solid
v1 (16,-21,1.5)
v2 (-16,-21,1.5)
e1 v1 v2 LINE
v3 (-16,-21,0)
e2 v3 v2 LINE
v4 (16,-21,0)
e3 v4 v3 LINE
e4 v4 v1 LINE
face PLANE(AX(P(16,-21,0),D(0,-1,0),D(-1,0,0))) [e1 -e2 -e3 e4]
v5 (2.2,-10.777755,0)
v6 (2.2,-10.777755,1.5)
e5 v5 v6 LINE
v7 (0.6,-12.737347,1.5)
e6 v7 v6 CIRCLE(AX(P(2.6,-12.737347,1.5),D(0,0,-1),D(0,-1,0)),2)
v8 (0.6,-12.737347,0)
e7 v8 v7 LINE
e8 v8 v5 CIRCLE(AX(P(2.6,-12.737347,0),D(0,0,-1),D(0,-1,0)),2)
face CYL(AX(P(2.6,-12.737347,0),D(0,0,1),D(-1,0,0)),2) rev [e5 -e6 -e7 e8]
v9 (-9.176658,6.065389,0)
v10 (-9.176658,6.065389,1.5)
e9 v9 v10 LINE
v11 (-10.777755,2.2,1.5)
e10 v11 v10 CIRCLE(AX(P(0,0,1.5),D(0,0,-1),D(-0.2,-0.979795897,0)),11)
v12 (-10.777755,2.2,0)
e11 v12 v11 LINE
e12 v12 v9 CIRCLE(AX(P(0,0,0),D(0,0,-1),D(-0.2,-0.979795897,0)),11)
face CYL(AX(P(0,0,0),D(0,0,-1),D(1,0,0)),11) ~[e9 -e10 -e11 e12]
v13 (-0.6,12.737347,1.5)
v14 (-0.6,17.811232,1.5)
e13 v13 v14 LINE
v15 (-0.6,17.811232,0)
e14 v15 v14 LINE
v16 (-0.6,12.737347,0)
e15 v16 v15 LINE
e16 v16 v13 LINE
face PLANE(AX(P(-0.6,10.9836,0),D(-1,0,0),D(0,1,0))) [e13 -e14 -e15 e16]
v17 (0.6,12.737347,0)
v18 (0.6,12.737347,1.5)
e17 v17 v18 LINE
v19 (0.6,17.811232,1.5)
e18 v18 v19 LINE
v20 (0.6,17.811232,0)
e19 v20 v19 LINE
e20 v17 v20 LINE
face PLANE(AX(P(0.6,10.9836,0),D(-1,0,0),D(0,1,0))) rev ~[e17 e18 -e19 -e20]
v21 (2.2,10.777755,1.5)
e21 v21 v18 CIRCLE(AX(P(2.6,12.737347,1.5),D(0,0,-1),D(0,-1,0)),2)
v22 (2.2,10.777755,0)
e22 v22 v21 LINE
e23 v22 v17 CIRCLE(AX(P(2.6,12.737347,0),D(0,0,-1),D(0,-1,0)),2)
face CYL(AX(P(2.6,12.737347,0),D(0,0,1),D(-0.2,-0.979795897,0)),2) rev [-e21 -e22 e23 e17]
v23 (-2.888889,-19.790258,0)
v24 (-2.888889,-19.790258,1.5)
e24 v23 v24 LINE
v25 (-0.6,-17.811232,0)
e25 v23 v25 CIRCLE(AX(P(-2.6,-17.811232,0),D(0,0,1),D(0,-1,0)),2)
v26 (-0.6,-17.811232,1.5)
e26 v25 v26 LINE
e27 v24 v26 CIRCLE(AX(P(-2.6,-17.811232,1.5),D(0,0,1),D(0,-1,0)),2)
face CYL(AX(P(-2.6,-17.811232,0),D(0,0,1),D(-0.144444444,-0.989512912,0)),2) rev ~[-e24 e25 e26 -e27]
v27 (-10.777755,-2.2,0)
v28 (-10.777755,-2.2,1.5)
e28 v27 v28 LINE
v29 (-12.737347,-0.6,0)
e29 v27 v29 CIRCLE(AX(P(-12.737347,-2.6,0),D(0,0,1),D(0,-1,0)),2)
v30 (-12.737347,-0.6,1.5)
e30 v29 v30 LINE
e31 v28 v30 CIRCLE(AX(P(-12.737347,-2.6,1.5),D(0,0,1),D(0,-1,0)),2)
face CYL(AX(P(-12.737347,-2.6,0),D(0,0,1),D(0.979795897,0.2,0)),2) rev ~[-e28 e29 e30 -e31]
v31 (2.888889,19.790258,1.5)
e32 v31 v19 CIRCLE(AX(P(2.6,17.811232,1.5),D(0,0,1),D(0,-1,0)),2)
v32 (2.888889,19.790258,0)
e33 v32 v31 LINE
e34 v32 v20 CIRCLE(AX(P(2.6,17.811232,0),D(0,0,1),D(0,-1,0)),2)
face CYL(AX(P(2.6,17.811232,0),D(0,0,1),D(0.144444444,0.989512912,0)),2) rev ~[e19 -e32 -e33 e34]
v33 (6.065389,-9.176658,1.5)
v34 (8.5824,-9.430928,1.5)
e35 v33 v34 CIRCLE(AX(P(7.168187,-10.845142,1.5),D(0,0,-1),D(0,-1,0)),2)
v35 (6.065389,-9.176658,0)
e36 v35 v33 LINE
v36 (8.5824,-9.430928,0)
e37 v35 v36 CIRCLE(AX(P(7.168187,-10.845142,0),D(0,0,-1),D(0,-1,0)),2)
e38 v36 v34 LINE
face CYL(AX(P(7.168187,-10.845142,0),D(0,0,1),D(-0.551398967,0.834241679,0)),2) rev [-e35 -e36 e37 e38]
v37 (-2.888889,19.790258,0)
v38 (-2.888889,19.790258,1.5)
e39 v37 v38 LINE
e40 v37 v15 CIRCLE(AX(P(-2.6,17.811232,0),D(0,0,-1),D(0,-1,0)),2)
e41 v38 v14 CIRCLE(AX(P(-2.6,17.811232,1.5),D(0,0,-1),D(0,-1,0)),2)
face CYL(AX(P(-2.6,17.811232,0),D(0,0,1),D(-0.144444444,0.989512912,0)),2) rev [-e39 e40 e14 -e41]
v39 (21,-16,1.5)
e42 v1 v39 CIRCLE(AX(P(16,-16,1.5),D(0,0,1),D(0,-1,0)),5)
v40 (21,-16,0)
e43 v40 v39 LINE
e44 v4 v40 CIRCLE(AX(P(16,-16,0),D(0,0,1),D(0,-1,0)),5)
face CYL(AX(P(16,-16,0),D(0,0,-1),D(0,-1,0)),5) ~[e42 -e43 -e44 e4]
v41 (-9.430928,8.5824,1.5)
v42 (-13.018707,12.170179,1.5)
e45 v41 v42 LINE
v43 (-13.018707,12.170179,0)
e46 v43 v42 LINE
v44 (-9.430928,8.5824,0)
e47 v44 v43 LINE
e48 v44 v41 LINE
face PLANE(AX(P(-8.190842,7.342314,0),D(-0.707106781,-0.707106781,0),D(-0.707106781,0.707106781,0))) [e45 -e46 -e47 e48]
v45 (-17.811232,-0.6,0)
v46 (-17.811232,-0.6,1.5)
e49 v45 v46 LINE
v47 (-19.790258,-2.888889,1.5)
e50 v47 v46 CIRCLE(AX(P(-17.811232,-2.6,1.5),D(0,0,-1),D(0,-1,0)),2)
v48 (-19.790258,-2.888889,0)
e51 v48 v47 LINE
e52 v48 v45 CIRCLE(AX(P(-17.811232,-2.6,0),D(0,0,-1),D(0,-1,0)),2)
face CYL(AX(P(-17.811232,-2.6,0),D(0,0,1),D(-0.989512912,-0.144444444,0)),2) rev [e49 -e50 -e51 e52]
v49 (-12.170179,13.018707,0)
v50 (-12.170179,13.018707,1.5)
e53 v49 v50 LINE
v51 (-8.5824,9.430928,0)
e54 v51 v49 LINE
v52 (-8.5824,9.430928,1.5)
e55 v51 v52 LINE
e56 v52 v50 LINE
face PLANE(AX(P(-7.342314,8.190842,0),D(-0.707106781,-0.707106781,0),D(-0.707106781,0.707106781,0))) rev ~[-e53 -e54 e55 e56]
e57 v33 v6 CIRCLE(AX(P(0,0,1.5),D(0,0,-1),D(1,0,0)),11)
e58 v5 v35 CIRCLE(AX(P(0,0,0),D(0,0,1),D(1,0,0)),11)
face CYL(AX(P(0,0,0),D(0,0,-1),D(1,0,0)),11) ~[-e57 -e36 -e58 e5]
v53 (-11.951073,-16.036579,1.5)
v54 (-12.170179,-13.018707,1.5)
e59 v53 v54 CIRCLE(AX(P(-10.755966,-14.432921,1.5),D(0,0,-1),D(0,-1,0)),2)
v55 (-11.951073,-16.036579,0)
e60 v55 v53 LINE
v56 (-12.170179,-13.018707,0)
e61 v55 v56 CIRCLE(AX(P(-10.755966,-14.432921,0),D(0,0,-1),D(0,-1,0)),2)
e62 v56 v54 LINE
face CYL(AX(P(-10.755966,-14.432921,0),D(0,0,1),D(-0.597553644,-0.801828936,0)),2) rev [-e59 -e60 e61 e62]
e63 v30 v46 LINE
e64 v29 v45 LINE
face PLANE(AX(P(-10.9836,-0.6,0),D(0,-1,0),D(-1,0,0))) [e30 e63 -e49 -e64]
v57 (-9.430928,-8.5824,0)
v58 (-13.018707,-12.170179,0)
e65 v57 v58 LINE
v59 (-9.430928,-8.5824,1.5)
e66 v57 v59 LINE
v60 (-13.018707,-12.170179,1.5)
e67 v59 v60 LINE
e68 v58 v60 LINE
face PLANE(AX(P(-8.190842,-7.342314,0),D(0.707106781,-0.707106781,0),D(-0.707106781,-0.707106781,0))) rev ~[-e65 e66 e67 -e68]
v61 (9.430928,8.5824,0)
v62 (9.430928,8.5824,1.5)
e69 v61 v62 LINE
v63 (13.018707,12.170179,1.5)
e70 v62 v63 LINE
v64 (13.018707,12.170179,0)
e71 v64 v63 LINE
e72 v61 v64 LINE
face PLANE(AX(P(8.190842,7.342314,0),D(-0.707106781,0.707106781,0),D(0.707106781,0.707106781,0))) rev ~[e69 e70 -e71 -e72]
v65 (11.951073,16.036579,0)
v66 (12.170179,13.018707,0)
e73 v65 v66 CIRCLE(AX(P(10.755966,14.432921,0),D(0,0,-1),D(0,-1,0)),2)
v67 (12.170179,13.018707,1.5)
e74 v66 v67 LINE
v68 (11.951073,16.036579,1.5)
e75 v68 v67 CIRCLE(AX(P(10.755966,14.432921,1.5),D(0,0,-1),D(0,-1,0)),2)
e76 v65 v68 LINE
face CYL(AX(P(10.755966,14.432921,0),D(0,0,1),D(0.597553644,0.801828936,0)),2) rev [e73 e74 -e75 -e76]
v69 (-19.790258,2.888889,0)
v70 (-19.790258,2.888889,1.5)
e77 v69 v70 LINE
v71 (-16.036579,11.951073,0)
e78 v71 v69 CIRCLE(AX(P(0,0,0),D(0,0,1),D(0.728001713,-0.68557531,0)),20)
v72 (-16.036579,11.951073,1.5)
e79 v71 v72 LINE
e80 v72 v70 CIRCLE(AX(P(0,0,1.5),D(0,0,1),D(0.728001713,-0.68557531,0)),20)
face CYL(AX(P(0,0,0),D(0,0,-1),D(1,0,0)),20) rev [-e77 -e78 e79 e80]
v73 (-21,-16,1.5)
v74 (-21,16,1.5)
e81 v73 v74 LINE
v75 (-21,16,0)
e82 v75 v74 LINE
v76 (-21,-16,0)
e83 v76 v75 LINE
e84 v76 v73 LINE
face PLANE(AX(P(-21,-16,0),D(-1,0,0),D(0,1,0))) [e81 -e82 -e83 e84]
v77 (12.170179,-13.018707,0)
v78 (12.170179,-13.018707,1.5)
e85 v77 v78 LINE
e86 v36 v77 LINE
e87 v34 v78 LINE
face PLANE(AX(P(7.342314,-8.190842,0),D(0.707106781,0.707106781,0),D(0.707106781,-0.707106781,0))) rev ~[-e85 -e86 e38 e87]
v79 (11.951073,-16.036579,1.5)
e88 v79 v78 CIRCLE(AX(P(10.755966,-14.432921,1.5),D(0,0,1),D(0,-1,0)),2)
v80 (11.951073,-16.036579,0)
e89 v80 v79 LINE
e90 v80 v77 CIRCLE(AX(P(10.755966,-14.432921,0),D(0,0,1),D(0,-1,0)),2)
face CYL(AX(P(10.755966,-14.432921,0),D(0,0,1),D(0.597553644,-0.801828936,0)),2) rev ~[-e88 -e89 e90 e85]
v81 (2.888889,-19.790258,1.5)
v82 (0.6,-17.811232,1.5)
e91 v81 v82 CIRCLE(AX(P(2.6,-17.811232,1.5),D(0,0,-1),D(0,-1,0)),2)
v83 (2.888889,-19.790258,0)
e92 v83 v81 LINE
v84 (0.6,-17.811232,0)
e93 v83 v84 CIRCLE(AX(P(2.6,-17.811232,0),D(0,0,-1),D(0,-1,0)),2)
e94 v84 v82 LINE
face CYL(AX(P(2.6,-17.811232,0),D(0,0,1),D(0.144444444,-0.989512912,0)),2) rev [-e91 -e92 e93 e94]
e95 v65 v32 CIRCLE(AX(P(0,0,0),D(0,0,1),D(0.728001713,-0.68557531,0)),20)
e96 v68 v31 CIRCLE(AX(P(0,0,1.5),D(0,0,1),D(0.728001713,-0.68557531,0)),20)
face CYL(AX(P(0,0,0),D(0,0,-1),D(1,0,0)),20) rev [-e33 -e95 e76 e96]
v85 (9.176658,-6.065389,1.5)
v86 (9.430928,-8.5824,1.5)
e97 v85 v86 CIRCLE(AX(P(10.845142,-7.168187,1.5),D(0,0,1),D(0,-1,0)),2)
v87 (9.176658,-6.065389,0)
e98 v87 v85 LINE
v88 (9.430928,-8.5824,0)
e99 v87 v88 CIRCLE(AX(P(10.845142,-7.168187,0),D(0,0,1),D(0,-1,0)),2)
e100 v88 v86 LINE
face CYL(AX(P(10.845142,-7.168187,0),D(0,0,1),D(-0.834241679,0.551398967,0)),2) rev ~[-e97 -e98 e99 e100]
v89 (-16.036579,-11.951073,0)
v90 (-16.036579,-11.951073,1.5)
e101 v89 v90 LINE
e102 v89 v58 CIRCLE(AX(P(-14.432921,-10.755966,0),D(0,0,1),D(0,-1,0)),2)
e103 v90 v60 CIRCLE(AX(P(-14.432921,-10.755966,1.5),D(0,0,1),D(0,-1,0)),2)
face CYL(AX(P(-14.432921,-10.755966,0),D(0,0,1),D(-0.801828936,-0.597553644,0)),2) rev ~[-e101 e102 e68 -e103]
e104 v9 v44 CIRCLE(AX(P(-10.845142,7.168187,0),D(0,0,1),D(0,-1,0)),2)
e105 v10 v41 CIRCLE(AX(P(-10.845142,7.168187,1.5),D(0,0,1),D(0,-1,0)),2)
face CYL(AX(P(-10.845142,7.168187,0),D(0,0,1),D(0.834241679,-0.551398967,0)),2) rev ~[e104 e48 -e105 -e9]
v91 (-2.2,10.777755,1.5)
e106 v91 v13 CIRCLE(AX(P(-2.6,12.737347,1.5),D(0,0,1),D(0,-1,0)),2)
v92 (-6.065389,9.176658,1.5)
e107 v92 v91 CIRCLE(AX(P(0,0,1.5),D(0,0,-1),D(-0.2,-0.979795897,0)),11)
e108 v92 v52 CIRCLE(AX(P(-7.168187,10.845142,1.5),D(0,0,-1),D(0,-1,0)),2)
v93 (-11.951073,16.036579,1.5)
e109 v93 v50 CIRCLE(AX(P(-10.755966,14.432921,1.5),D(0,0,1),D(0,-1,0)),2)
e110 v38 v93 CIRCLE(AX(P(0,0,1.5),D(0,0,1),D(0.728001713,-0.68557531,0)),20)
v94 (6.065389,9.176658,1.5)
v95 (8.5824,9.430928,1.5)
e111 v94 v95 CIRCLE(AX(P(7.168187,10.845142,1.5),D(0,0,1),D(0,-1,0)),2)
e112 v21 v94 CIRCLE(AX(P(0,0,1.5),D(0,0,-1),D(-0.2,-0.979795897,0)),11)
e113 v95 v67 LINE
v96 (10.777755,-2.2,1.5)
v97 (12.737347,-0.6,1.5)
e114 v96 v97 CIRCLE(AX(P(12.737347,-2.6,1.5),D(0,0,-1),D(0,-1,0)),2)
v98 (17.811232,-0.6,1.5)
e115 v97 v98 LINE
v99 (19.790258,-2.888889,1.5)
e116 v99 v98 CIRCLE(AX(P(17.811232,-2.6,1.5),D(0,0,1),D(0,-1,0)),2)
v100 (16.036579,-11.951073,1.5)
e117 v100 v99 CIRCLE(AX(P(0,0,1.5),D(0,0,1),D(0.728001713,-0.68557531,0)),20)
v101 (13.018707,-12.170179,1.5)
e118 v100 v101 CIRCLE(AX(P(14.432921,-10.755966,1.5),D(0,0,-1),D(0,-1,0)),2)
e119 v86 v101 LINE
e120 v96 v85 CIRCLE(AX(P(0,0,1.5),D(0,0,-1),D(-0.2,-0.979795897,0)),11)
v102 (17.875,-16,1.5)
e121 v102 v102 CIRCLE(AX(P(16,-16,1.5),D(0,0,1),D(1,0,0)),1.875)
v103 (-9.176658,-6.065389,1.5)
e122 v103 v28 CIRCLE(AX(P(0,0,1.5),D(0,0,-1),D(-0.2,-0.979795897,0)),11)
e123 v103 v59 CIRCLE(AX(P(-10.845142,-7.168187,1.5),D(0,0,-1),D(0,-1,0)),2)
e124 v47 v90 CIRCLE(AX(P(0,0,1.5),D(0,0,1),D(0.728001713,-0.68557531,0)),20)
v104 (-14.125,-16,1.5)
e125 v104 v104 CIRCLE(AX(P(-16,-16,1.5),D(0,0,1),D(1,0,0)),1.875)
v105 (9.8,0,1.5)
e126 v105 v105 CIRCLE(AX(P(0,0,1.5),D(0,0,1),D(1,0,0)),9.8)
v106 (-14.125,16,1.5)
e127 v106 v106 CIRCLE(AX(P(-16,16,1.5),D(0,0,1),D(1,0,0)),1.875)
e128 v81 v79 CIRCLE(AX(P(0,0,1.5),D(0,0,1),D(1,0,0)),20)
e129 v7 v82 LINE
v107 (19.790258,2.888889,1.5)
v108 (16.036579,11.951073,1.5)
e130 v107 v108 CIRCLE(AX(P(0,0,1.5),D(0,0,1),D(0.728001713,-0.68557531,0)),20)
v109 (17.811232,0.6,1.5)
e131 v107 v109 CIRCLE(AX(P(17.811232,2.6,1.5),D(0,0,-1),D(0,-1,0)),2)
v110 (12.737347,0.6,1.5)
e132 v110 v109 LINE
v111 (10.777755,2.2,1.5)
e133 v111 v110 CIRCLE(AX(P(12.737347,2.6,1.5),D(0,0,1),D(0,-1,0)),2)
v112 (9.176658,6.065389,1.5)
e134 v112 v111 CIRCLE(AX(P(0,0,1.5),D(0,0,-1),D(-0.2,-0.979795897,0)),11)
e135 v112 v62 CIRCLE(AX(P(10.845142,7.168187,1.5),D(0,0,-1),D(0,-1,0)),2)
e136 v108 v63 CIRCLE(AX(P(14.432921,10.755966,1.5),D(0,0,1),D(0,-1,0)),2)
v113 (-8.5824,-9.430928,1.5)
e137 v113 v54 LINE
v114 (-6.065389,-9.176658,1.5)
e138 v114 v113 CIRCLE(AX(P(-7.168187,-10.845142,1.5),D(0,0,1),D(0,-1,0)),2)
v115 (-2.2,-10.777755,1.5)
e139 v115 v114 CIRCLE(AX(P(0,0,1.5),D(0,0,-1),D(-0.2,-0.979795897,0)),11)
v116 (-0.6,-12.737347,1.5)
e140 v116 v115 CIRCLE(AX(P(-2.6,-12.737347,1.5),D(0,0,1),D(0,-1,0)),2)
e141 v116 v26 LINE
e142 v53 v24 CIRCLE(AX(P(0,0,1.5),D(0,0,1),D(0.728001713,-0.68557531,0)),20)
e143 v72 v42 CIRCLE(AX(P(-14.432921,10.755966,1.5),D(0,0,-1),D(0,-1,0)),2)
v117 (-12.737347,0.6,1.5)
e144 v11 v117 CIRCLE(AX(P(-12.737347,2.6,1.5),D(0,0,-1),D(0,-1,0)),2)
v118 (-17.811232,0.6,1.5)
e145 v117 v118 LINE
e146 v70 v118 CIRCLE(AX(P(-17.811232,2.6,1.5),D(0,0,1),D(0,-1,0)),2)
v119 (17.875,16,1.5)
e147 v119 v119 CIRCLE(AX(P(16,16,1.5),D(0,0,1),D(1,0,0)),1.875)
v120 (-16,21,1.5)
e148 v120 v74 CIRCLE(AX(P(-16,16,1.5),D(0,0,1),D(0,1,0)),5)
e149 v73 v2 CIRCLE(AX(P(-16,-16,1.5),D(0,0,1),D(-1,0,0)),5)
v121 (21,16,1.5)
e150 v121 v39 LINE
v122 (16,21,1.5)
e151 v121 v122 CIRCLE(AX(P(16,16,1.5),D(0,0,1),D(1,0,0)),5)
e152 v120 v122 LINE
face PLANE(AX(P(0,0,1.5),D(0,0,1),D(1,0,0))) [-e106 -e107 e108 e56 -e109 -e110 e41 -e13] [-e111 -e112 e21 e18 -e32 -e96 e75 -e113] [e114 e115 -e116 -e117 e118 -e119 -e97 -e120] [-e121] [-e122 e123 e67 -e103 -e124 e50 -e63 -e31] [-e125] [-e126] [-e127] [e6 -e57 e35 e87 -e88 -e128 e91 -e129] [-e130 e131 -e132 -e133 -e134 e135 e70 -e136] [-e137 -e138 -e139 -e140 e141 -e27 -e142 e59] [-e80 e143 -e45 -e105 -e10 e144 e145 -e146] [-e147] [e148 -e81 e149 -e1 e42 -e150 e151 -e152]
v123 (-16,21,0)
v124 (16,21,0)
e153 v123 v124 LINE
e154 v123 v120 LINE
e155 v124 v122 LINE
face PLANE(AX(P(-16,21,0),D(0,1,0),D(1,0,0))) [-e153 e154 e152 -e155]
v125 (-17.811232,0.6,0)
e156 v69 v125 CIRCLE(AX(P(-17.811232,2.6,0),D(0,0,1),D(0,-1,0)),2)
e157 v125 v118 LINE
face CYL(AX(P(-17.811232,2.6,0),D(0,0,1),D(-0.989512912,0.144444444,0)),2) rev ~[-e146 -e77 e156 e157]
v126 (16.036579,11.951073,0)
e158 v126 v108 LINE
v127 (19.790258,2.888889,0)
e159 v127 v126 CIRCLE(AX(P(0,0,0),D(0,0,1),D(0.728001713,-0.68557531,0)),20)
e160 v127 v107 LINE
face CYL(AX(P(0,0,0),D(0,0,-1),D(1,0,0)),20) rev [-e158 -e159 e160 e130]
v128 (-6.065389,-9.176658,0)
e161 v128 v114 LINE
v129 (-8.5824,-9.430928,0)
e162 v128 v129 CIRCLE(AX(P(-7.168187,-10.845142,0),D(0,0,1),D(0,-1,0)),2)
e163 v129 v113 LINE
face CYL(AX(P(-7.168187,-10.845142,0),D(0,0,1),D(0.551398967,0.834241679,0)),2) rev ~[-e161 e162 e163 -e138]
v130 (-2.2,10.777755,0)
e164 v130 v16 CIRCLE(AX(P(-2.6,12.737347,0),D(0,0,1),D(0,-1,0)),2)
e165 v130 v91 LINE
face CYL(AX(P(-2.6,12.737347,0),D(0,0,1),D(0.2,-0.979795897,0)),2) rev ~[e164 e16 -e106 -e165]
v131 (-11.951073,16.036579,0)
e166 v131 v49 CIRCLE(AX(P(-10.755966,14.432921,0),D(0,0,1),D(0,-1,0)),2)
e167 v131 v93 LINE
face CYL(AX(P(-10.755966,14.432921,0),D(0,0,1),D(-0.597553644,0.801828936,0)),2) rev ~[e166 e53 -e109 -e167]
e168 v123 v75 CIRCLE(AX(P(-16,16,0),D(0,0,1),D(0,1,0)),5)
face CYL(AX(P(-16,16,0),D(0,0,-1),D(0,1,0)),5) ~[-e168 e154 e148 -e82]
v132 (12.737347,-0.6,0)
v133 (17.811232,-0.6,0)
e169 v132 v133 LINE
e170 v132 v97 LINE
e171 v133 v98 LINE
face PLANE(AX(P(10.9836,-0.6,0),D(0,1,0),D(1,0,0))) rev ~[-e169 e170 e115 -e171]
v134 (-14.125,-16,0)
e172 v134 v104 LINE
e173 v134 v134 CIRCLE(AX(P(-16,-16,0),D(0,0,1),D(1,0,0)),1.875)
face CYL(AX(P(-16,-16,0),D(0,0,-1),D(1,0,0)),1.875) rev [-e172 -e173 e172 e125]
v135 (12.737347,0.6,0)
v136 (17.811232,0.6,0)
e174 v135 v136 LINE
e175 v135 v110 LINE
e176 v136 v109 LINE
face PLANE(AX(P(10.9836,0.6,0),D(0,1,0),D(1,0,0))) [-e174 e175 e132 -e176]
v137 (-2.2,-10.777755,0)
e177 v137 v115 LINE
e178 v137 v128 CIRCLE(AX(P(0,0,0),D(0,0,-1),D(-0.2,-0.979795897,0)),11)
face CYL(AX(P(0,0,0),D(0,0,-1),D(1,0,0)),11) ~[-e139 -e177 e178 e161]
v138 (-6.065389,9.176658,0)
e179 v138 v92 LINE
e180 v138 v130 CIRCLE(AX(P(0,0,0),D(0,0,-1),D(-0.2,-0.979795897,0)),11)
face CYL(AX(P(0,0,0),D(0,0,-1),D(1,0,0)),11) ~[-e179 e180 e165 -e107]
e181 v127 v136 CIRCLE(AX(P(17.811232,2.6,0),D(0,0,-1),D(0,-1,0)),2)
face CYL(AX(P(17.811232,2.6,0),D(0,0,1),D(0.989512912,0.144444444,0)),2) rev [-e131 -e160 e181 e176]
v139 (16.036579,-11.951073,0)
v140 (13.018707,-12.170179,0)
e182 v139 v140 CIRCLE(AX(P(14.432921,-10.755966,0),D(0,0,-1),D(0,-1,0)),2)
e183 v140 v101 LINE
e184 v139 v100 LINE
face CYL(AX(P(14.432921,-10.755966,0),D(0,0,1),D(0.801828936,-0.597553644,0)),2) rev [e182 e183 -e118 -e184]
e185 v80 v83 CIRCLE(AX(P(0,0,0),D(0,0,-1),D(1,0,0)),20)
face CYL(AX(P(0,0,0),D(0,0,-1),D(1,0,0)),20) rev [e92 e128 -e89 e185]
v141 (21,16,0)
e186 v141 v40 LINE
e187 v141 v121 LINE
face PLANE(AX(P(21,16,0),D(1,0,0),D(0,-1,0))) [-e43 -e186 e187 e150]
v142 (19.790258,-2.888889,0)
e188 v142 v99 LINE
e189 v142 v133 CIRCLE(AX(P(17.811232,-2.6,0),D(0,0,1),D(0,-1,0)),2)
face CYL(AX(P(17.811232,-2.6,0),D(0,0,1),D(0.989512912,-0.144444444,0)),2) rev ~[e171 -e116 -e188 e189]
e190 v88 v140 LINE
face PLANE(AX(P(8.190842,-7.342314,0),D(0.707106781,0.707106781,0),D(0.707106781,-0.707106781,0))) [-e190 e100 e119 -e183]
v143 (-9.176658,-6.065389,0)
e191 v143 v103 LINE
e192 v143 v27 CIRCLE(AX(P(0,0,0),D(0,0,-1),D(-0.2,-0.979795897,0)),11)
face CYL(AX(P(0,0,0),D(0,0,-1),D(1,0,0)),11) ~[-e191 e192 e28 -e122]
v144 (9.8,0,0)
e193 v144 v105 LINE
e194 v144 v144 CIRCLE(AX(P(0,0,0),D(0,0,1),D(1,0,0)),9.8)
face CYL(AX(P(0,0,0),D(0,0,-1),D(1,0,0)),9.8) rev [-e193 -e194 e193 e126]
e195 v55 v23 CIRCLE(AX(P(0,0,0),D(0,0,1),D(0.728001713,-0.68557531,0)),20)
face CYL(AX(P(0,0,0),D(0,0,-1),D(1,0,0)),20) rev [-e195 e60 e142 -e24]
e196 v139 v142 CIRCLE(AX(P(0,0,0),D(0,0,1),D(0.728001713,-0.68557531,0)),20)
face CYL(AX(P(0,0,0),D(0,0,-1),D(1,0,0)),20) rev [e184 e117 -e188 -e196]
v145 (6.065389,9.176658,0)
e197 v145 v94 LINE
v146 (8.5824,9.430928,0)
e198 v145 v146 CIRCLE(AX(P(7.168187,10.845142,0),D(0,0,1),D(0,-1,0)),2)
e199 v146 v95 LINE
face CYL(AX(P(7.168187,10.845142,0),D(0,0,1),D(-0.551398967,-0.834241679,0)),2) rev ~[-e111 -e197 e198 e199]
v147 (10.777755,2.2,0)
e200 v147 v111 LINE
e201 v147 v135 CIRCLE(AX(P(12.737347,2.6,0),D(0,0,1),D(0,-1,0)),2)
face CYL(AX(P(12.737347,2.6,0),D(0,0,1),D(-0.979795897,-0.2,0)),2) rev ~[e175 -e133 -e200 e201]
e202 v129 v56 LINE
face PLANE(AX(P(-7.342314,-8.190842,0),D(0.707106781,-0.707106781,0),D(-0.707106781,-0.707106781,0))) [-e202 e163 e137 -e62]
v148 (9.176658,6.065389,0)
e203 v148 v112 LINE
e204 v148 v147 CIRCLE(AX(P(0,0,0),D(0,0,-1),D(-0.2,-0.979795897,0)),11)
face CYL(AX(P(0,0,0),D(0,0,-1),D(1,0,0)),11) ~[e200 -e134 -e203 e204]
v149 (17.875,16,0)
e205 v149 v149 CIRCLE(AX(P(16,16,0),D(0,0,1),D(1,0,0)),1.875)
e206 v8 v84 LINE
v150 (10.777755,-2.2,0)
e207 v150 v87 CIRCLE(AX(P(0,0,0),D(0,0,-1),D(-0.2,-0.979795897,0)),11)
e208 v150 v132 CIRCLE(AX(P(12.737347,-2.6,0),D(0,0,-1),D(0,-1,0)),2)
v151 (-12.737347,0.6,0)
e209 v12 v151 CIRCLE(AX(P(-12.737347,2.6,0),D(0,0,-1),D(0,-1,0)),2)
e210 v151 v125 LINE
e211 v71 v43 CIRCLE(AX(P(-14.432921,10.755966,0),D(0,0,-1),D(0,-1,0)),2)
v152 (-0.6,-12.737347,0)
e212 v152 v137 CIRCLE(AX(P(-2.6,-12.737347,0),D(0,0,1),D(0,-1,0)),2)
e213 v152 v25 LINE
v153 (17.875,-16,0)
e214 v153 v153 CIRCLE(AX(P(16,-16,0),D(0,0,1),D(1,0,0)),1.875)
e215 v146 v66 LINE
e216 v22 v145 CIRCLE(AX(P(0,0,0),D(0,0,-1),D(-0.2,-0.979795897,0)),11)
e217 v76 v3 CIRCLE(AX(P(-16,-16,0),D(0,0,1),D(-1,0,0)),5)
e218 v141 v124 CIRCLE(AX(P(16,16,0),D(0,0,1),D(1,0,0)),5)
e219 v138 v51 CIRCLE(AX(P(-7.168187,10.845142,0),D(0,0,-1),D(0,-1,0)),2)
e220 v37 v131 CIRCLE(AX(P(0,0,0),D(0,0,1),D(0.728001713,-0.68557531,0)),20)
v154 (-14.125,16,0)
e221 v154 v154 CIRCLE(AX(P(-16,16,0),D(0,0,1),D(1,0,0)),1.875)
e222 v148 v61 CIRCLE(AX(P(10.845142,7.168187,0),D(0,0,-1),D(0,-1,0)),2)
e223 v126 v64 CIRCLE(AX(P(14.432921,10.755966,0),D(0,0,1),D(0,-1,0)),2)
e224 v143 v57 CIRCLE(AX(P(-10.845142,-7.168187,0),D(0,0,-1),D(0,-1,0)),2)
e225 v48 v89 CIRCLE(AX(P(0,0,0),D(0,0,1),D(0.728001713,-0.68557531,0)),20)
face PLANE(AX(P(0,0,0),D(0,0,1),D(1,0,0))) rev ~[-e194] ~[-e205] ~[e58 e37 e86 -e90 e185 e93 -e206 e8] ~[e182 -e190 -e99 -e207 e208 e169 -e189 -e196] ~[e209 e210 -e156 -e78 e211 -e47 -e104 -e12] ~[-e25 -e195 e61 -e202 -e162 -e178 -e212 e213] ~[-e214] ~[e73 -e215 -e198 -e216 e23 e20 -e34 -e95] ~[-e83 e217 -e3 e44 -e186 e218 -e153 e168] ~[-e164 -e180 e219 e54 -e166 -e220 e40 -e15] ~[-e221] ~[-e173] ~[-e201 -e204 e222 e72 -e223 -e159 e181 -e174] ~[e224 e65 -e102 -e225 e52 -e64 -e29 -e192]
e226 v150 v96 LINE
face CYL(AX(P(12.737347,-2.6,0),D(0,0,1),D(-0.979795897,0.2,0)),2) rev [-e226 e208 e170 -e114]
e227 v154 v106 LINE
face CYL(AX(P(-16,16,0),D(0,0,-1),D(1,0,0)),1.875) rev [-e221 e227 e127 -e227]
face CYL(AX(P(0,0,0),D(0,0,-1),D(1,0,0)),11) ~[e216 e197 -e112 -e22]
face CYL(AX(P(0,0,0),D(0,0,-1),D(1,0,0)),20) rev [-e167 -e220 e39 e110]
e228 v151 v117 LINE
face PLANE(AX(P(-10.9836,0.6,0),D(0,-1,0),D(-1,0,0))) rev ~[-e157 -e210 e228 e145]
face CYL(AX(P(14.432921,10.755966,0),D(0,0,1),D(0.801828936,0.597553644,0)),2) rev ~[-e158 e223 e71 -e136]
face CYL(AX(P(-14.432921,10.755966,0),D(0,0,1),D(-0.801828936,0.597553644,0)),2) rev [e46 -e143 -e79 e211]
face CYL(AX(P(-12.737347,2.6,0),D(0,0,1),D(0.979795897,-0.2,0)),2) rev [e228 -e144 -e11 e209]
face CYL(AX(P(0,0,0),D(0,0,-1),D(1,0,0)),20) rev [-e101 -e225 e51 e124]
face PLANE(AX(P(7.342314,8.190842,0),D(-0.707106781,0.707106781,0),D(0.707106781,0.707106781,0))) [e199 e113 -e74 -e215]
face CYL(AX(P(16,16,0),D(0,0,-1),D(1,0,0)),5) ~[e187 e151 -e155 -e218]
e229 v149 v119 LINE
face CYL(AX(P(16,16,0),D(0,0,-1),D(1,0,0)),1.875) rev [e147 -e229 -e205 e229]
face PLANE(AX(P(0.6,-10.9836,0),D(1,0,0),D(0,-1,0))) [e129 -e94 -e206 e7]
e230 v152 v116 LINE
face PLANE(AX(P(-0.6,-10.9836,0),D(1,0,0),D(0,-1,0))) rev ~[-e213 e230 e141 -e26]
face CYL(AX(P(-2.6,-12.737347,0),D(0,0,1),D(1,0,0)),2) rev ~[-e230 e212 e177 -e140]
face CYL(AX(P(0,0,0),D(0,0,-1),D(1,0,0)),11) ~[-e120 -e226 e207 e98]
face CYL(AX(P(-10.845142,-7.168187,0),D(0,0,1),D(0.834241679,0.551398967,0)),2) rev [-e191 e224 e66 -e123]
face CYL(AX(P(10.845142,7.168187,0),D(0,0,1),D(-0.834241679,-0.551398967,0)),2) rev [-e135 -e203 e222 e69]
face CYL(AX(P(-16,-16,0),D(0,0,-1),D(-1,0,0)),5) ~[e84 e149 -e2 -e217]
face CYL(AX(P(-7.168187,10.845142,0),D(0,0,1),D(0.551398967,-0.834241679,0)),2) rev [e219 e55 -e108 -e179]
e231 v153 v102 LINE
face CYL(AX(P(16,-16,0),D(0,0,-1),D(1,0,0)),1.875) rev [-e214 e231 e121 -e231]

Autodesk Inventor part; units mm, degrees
ref_plane "YZ Plane" through (0, 0, 0) normal (1, 0, 0) x (0, 1, 0)
ref_plane "XZ Plane" through (0, 0, 0) normal (0, 1, 0) x (-1, 0, 0)
ref_plane "XY Plane" through (0, 0, 0) normal (0, 0, 1) x (1, 0, 0)
sketch "Sketch1" plane through (0, 0, 0) normal (0, 0, 1) x (1, 0, 0)
  line L0 (-16, 21) -> (16, 21)
  line L1 (21, 16) -> (21, -16)
  line L2 (16, -21) -> (-16, -21)
  line L3 (-21, -16) -> (-21, 16)
  circle A0 centre (-16, -16) radius 1.875
  circle A1 centre (-16, 16) radius 1.875
  circle A2 centre (16, 16) radius 1.875
  circle A3 centre (16, -16) radius 1.875
  circle A4 centre (0, 0) radius 20
  arc A5 (-16, 21) -> (-21, 16) centre (-16, 16) ccw
  arc A6 (21, 16) -> (16, 21) centre (16, 16) ccw
  arc A7 (16, -21) -> (21, -16) centre (16, -16) ccw
  arc A8 (-21, -16) -> (-16, -21) centre (-16, -16) ccw
  circle A9 centre (0, 0) radius 11
  circle A10 centre (0, 0) radius 9.8
  line L4 (-0.6, -10.9836) -> (-0.6, -19.991)
  line L5 (0.6, -10.9836) -> (0.6, -19.991)
  point P0 (21, -21)
  point P1 (21, 21)
  point P2 (-21, -21)
  dimension "d0" = 42
  dimension "d1" = 42
  dimension "d2" = 3.75
  dimension "d3" = 3.75
  dimension "d4" = 3.75
  dimension "d5" = 3.75
  dimension "d6" = 40
  dimension "d7" = 32
  dimension "d8" = 32
  dimension "d9" = 5
  dimension "d11" = 5
  dimension "d12" = 5
  dimension "d13" = 5
  dimension "d14" = 5
  dimension "d15" = 5
  dimension "d16" = 21
  dimension "d17" = 21
  dimension "d18" = 5
  dimension "d19" = 5
  dimension "d20" = 22
  dimension "d21" = 19.6
  dimension "d22" = 1.2
  dimension "d23" = 0.6
  dimension "d44" = 0
  dimension "d45" = 0
extrude "Base" add sketch "Sketch1" along normal blind 1.5 contours L0 A6 L1 A7 L2 A8 L3 A5 | A9
extrude "Support" add sketch "Sketch1" along normal blind 1.5 contours L4 A9 L5 A4 picked at (0.4667, -13.9909)
fillet "Fillet1" radius 2 4 edges at (-0.6, -10.9836, 0.75) (0.6, -10.9836, 0.75) (0.6, -19.991, 0.75) (-0.6, -19.991, 0.75)
pattern_circular "Support pattern" count 8 over 360 about axis through (0, 0, -10) along (0, 0, 1) of "Support", "Fillet1"
equation "\"d3\" = d2"
equation "\"d4\" = d2"
equation "\"d5\" = d2"
equation "\"d9\" = d13"
equation "\"d12\" = d11"
equation "\"d16\" = 0.5 * d0"
equation "\"d17\" = 0.5 * d0"
equation "\"d23\" = 0.5 * d22"
properties part number "40mm fan grill"
